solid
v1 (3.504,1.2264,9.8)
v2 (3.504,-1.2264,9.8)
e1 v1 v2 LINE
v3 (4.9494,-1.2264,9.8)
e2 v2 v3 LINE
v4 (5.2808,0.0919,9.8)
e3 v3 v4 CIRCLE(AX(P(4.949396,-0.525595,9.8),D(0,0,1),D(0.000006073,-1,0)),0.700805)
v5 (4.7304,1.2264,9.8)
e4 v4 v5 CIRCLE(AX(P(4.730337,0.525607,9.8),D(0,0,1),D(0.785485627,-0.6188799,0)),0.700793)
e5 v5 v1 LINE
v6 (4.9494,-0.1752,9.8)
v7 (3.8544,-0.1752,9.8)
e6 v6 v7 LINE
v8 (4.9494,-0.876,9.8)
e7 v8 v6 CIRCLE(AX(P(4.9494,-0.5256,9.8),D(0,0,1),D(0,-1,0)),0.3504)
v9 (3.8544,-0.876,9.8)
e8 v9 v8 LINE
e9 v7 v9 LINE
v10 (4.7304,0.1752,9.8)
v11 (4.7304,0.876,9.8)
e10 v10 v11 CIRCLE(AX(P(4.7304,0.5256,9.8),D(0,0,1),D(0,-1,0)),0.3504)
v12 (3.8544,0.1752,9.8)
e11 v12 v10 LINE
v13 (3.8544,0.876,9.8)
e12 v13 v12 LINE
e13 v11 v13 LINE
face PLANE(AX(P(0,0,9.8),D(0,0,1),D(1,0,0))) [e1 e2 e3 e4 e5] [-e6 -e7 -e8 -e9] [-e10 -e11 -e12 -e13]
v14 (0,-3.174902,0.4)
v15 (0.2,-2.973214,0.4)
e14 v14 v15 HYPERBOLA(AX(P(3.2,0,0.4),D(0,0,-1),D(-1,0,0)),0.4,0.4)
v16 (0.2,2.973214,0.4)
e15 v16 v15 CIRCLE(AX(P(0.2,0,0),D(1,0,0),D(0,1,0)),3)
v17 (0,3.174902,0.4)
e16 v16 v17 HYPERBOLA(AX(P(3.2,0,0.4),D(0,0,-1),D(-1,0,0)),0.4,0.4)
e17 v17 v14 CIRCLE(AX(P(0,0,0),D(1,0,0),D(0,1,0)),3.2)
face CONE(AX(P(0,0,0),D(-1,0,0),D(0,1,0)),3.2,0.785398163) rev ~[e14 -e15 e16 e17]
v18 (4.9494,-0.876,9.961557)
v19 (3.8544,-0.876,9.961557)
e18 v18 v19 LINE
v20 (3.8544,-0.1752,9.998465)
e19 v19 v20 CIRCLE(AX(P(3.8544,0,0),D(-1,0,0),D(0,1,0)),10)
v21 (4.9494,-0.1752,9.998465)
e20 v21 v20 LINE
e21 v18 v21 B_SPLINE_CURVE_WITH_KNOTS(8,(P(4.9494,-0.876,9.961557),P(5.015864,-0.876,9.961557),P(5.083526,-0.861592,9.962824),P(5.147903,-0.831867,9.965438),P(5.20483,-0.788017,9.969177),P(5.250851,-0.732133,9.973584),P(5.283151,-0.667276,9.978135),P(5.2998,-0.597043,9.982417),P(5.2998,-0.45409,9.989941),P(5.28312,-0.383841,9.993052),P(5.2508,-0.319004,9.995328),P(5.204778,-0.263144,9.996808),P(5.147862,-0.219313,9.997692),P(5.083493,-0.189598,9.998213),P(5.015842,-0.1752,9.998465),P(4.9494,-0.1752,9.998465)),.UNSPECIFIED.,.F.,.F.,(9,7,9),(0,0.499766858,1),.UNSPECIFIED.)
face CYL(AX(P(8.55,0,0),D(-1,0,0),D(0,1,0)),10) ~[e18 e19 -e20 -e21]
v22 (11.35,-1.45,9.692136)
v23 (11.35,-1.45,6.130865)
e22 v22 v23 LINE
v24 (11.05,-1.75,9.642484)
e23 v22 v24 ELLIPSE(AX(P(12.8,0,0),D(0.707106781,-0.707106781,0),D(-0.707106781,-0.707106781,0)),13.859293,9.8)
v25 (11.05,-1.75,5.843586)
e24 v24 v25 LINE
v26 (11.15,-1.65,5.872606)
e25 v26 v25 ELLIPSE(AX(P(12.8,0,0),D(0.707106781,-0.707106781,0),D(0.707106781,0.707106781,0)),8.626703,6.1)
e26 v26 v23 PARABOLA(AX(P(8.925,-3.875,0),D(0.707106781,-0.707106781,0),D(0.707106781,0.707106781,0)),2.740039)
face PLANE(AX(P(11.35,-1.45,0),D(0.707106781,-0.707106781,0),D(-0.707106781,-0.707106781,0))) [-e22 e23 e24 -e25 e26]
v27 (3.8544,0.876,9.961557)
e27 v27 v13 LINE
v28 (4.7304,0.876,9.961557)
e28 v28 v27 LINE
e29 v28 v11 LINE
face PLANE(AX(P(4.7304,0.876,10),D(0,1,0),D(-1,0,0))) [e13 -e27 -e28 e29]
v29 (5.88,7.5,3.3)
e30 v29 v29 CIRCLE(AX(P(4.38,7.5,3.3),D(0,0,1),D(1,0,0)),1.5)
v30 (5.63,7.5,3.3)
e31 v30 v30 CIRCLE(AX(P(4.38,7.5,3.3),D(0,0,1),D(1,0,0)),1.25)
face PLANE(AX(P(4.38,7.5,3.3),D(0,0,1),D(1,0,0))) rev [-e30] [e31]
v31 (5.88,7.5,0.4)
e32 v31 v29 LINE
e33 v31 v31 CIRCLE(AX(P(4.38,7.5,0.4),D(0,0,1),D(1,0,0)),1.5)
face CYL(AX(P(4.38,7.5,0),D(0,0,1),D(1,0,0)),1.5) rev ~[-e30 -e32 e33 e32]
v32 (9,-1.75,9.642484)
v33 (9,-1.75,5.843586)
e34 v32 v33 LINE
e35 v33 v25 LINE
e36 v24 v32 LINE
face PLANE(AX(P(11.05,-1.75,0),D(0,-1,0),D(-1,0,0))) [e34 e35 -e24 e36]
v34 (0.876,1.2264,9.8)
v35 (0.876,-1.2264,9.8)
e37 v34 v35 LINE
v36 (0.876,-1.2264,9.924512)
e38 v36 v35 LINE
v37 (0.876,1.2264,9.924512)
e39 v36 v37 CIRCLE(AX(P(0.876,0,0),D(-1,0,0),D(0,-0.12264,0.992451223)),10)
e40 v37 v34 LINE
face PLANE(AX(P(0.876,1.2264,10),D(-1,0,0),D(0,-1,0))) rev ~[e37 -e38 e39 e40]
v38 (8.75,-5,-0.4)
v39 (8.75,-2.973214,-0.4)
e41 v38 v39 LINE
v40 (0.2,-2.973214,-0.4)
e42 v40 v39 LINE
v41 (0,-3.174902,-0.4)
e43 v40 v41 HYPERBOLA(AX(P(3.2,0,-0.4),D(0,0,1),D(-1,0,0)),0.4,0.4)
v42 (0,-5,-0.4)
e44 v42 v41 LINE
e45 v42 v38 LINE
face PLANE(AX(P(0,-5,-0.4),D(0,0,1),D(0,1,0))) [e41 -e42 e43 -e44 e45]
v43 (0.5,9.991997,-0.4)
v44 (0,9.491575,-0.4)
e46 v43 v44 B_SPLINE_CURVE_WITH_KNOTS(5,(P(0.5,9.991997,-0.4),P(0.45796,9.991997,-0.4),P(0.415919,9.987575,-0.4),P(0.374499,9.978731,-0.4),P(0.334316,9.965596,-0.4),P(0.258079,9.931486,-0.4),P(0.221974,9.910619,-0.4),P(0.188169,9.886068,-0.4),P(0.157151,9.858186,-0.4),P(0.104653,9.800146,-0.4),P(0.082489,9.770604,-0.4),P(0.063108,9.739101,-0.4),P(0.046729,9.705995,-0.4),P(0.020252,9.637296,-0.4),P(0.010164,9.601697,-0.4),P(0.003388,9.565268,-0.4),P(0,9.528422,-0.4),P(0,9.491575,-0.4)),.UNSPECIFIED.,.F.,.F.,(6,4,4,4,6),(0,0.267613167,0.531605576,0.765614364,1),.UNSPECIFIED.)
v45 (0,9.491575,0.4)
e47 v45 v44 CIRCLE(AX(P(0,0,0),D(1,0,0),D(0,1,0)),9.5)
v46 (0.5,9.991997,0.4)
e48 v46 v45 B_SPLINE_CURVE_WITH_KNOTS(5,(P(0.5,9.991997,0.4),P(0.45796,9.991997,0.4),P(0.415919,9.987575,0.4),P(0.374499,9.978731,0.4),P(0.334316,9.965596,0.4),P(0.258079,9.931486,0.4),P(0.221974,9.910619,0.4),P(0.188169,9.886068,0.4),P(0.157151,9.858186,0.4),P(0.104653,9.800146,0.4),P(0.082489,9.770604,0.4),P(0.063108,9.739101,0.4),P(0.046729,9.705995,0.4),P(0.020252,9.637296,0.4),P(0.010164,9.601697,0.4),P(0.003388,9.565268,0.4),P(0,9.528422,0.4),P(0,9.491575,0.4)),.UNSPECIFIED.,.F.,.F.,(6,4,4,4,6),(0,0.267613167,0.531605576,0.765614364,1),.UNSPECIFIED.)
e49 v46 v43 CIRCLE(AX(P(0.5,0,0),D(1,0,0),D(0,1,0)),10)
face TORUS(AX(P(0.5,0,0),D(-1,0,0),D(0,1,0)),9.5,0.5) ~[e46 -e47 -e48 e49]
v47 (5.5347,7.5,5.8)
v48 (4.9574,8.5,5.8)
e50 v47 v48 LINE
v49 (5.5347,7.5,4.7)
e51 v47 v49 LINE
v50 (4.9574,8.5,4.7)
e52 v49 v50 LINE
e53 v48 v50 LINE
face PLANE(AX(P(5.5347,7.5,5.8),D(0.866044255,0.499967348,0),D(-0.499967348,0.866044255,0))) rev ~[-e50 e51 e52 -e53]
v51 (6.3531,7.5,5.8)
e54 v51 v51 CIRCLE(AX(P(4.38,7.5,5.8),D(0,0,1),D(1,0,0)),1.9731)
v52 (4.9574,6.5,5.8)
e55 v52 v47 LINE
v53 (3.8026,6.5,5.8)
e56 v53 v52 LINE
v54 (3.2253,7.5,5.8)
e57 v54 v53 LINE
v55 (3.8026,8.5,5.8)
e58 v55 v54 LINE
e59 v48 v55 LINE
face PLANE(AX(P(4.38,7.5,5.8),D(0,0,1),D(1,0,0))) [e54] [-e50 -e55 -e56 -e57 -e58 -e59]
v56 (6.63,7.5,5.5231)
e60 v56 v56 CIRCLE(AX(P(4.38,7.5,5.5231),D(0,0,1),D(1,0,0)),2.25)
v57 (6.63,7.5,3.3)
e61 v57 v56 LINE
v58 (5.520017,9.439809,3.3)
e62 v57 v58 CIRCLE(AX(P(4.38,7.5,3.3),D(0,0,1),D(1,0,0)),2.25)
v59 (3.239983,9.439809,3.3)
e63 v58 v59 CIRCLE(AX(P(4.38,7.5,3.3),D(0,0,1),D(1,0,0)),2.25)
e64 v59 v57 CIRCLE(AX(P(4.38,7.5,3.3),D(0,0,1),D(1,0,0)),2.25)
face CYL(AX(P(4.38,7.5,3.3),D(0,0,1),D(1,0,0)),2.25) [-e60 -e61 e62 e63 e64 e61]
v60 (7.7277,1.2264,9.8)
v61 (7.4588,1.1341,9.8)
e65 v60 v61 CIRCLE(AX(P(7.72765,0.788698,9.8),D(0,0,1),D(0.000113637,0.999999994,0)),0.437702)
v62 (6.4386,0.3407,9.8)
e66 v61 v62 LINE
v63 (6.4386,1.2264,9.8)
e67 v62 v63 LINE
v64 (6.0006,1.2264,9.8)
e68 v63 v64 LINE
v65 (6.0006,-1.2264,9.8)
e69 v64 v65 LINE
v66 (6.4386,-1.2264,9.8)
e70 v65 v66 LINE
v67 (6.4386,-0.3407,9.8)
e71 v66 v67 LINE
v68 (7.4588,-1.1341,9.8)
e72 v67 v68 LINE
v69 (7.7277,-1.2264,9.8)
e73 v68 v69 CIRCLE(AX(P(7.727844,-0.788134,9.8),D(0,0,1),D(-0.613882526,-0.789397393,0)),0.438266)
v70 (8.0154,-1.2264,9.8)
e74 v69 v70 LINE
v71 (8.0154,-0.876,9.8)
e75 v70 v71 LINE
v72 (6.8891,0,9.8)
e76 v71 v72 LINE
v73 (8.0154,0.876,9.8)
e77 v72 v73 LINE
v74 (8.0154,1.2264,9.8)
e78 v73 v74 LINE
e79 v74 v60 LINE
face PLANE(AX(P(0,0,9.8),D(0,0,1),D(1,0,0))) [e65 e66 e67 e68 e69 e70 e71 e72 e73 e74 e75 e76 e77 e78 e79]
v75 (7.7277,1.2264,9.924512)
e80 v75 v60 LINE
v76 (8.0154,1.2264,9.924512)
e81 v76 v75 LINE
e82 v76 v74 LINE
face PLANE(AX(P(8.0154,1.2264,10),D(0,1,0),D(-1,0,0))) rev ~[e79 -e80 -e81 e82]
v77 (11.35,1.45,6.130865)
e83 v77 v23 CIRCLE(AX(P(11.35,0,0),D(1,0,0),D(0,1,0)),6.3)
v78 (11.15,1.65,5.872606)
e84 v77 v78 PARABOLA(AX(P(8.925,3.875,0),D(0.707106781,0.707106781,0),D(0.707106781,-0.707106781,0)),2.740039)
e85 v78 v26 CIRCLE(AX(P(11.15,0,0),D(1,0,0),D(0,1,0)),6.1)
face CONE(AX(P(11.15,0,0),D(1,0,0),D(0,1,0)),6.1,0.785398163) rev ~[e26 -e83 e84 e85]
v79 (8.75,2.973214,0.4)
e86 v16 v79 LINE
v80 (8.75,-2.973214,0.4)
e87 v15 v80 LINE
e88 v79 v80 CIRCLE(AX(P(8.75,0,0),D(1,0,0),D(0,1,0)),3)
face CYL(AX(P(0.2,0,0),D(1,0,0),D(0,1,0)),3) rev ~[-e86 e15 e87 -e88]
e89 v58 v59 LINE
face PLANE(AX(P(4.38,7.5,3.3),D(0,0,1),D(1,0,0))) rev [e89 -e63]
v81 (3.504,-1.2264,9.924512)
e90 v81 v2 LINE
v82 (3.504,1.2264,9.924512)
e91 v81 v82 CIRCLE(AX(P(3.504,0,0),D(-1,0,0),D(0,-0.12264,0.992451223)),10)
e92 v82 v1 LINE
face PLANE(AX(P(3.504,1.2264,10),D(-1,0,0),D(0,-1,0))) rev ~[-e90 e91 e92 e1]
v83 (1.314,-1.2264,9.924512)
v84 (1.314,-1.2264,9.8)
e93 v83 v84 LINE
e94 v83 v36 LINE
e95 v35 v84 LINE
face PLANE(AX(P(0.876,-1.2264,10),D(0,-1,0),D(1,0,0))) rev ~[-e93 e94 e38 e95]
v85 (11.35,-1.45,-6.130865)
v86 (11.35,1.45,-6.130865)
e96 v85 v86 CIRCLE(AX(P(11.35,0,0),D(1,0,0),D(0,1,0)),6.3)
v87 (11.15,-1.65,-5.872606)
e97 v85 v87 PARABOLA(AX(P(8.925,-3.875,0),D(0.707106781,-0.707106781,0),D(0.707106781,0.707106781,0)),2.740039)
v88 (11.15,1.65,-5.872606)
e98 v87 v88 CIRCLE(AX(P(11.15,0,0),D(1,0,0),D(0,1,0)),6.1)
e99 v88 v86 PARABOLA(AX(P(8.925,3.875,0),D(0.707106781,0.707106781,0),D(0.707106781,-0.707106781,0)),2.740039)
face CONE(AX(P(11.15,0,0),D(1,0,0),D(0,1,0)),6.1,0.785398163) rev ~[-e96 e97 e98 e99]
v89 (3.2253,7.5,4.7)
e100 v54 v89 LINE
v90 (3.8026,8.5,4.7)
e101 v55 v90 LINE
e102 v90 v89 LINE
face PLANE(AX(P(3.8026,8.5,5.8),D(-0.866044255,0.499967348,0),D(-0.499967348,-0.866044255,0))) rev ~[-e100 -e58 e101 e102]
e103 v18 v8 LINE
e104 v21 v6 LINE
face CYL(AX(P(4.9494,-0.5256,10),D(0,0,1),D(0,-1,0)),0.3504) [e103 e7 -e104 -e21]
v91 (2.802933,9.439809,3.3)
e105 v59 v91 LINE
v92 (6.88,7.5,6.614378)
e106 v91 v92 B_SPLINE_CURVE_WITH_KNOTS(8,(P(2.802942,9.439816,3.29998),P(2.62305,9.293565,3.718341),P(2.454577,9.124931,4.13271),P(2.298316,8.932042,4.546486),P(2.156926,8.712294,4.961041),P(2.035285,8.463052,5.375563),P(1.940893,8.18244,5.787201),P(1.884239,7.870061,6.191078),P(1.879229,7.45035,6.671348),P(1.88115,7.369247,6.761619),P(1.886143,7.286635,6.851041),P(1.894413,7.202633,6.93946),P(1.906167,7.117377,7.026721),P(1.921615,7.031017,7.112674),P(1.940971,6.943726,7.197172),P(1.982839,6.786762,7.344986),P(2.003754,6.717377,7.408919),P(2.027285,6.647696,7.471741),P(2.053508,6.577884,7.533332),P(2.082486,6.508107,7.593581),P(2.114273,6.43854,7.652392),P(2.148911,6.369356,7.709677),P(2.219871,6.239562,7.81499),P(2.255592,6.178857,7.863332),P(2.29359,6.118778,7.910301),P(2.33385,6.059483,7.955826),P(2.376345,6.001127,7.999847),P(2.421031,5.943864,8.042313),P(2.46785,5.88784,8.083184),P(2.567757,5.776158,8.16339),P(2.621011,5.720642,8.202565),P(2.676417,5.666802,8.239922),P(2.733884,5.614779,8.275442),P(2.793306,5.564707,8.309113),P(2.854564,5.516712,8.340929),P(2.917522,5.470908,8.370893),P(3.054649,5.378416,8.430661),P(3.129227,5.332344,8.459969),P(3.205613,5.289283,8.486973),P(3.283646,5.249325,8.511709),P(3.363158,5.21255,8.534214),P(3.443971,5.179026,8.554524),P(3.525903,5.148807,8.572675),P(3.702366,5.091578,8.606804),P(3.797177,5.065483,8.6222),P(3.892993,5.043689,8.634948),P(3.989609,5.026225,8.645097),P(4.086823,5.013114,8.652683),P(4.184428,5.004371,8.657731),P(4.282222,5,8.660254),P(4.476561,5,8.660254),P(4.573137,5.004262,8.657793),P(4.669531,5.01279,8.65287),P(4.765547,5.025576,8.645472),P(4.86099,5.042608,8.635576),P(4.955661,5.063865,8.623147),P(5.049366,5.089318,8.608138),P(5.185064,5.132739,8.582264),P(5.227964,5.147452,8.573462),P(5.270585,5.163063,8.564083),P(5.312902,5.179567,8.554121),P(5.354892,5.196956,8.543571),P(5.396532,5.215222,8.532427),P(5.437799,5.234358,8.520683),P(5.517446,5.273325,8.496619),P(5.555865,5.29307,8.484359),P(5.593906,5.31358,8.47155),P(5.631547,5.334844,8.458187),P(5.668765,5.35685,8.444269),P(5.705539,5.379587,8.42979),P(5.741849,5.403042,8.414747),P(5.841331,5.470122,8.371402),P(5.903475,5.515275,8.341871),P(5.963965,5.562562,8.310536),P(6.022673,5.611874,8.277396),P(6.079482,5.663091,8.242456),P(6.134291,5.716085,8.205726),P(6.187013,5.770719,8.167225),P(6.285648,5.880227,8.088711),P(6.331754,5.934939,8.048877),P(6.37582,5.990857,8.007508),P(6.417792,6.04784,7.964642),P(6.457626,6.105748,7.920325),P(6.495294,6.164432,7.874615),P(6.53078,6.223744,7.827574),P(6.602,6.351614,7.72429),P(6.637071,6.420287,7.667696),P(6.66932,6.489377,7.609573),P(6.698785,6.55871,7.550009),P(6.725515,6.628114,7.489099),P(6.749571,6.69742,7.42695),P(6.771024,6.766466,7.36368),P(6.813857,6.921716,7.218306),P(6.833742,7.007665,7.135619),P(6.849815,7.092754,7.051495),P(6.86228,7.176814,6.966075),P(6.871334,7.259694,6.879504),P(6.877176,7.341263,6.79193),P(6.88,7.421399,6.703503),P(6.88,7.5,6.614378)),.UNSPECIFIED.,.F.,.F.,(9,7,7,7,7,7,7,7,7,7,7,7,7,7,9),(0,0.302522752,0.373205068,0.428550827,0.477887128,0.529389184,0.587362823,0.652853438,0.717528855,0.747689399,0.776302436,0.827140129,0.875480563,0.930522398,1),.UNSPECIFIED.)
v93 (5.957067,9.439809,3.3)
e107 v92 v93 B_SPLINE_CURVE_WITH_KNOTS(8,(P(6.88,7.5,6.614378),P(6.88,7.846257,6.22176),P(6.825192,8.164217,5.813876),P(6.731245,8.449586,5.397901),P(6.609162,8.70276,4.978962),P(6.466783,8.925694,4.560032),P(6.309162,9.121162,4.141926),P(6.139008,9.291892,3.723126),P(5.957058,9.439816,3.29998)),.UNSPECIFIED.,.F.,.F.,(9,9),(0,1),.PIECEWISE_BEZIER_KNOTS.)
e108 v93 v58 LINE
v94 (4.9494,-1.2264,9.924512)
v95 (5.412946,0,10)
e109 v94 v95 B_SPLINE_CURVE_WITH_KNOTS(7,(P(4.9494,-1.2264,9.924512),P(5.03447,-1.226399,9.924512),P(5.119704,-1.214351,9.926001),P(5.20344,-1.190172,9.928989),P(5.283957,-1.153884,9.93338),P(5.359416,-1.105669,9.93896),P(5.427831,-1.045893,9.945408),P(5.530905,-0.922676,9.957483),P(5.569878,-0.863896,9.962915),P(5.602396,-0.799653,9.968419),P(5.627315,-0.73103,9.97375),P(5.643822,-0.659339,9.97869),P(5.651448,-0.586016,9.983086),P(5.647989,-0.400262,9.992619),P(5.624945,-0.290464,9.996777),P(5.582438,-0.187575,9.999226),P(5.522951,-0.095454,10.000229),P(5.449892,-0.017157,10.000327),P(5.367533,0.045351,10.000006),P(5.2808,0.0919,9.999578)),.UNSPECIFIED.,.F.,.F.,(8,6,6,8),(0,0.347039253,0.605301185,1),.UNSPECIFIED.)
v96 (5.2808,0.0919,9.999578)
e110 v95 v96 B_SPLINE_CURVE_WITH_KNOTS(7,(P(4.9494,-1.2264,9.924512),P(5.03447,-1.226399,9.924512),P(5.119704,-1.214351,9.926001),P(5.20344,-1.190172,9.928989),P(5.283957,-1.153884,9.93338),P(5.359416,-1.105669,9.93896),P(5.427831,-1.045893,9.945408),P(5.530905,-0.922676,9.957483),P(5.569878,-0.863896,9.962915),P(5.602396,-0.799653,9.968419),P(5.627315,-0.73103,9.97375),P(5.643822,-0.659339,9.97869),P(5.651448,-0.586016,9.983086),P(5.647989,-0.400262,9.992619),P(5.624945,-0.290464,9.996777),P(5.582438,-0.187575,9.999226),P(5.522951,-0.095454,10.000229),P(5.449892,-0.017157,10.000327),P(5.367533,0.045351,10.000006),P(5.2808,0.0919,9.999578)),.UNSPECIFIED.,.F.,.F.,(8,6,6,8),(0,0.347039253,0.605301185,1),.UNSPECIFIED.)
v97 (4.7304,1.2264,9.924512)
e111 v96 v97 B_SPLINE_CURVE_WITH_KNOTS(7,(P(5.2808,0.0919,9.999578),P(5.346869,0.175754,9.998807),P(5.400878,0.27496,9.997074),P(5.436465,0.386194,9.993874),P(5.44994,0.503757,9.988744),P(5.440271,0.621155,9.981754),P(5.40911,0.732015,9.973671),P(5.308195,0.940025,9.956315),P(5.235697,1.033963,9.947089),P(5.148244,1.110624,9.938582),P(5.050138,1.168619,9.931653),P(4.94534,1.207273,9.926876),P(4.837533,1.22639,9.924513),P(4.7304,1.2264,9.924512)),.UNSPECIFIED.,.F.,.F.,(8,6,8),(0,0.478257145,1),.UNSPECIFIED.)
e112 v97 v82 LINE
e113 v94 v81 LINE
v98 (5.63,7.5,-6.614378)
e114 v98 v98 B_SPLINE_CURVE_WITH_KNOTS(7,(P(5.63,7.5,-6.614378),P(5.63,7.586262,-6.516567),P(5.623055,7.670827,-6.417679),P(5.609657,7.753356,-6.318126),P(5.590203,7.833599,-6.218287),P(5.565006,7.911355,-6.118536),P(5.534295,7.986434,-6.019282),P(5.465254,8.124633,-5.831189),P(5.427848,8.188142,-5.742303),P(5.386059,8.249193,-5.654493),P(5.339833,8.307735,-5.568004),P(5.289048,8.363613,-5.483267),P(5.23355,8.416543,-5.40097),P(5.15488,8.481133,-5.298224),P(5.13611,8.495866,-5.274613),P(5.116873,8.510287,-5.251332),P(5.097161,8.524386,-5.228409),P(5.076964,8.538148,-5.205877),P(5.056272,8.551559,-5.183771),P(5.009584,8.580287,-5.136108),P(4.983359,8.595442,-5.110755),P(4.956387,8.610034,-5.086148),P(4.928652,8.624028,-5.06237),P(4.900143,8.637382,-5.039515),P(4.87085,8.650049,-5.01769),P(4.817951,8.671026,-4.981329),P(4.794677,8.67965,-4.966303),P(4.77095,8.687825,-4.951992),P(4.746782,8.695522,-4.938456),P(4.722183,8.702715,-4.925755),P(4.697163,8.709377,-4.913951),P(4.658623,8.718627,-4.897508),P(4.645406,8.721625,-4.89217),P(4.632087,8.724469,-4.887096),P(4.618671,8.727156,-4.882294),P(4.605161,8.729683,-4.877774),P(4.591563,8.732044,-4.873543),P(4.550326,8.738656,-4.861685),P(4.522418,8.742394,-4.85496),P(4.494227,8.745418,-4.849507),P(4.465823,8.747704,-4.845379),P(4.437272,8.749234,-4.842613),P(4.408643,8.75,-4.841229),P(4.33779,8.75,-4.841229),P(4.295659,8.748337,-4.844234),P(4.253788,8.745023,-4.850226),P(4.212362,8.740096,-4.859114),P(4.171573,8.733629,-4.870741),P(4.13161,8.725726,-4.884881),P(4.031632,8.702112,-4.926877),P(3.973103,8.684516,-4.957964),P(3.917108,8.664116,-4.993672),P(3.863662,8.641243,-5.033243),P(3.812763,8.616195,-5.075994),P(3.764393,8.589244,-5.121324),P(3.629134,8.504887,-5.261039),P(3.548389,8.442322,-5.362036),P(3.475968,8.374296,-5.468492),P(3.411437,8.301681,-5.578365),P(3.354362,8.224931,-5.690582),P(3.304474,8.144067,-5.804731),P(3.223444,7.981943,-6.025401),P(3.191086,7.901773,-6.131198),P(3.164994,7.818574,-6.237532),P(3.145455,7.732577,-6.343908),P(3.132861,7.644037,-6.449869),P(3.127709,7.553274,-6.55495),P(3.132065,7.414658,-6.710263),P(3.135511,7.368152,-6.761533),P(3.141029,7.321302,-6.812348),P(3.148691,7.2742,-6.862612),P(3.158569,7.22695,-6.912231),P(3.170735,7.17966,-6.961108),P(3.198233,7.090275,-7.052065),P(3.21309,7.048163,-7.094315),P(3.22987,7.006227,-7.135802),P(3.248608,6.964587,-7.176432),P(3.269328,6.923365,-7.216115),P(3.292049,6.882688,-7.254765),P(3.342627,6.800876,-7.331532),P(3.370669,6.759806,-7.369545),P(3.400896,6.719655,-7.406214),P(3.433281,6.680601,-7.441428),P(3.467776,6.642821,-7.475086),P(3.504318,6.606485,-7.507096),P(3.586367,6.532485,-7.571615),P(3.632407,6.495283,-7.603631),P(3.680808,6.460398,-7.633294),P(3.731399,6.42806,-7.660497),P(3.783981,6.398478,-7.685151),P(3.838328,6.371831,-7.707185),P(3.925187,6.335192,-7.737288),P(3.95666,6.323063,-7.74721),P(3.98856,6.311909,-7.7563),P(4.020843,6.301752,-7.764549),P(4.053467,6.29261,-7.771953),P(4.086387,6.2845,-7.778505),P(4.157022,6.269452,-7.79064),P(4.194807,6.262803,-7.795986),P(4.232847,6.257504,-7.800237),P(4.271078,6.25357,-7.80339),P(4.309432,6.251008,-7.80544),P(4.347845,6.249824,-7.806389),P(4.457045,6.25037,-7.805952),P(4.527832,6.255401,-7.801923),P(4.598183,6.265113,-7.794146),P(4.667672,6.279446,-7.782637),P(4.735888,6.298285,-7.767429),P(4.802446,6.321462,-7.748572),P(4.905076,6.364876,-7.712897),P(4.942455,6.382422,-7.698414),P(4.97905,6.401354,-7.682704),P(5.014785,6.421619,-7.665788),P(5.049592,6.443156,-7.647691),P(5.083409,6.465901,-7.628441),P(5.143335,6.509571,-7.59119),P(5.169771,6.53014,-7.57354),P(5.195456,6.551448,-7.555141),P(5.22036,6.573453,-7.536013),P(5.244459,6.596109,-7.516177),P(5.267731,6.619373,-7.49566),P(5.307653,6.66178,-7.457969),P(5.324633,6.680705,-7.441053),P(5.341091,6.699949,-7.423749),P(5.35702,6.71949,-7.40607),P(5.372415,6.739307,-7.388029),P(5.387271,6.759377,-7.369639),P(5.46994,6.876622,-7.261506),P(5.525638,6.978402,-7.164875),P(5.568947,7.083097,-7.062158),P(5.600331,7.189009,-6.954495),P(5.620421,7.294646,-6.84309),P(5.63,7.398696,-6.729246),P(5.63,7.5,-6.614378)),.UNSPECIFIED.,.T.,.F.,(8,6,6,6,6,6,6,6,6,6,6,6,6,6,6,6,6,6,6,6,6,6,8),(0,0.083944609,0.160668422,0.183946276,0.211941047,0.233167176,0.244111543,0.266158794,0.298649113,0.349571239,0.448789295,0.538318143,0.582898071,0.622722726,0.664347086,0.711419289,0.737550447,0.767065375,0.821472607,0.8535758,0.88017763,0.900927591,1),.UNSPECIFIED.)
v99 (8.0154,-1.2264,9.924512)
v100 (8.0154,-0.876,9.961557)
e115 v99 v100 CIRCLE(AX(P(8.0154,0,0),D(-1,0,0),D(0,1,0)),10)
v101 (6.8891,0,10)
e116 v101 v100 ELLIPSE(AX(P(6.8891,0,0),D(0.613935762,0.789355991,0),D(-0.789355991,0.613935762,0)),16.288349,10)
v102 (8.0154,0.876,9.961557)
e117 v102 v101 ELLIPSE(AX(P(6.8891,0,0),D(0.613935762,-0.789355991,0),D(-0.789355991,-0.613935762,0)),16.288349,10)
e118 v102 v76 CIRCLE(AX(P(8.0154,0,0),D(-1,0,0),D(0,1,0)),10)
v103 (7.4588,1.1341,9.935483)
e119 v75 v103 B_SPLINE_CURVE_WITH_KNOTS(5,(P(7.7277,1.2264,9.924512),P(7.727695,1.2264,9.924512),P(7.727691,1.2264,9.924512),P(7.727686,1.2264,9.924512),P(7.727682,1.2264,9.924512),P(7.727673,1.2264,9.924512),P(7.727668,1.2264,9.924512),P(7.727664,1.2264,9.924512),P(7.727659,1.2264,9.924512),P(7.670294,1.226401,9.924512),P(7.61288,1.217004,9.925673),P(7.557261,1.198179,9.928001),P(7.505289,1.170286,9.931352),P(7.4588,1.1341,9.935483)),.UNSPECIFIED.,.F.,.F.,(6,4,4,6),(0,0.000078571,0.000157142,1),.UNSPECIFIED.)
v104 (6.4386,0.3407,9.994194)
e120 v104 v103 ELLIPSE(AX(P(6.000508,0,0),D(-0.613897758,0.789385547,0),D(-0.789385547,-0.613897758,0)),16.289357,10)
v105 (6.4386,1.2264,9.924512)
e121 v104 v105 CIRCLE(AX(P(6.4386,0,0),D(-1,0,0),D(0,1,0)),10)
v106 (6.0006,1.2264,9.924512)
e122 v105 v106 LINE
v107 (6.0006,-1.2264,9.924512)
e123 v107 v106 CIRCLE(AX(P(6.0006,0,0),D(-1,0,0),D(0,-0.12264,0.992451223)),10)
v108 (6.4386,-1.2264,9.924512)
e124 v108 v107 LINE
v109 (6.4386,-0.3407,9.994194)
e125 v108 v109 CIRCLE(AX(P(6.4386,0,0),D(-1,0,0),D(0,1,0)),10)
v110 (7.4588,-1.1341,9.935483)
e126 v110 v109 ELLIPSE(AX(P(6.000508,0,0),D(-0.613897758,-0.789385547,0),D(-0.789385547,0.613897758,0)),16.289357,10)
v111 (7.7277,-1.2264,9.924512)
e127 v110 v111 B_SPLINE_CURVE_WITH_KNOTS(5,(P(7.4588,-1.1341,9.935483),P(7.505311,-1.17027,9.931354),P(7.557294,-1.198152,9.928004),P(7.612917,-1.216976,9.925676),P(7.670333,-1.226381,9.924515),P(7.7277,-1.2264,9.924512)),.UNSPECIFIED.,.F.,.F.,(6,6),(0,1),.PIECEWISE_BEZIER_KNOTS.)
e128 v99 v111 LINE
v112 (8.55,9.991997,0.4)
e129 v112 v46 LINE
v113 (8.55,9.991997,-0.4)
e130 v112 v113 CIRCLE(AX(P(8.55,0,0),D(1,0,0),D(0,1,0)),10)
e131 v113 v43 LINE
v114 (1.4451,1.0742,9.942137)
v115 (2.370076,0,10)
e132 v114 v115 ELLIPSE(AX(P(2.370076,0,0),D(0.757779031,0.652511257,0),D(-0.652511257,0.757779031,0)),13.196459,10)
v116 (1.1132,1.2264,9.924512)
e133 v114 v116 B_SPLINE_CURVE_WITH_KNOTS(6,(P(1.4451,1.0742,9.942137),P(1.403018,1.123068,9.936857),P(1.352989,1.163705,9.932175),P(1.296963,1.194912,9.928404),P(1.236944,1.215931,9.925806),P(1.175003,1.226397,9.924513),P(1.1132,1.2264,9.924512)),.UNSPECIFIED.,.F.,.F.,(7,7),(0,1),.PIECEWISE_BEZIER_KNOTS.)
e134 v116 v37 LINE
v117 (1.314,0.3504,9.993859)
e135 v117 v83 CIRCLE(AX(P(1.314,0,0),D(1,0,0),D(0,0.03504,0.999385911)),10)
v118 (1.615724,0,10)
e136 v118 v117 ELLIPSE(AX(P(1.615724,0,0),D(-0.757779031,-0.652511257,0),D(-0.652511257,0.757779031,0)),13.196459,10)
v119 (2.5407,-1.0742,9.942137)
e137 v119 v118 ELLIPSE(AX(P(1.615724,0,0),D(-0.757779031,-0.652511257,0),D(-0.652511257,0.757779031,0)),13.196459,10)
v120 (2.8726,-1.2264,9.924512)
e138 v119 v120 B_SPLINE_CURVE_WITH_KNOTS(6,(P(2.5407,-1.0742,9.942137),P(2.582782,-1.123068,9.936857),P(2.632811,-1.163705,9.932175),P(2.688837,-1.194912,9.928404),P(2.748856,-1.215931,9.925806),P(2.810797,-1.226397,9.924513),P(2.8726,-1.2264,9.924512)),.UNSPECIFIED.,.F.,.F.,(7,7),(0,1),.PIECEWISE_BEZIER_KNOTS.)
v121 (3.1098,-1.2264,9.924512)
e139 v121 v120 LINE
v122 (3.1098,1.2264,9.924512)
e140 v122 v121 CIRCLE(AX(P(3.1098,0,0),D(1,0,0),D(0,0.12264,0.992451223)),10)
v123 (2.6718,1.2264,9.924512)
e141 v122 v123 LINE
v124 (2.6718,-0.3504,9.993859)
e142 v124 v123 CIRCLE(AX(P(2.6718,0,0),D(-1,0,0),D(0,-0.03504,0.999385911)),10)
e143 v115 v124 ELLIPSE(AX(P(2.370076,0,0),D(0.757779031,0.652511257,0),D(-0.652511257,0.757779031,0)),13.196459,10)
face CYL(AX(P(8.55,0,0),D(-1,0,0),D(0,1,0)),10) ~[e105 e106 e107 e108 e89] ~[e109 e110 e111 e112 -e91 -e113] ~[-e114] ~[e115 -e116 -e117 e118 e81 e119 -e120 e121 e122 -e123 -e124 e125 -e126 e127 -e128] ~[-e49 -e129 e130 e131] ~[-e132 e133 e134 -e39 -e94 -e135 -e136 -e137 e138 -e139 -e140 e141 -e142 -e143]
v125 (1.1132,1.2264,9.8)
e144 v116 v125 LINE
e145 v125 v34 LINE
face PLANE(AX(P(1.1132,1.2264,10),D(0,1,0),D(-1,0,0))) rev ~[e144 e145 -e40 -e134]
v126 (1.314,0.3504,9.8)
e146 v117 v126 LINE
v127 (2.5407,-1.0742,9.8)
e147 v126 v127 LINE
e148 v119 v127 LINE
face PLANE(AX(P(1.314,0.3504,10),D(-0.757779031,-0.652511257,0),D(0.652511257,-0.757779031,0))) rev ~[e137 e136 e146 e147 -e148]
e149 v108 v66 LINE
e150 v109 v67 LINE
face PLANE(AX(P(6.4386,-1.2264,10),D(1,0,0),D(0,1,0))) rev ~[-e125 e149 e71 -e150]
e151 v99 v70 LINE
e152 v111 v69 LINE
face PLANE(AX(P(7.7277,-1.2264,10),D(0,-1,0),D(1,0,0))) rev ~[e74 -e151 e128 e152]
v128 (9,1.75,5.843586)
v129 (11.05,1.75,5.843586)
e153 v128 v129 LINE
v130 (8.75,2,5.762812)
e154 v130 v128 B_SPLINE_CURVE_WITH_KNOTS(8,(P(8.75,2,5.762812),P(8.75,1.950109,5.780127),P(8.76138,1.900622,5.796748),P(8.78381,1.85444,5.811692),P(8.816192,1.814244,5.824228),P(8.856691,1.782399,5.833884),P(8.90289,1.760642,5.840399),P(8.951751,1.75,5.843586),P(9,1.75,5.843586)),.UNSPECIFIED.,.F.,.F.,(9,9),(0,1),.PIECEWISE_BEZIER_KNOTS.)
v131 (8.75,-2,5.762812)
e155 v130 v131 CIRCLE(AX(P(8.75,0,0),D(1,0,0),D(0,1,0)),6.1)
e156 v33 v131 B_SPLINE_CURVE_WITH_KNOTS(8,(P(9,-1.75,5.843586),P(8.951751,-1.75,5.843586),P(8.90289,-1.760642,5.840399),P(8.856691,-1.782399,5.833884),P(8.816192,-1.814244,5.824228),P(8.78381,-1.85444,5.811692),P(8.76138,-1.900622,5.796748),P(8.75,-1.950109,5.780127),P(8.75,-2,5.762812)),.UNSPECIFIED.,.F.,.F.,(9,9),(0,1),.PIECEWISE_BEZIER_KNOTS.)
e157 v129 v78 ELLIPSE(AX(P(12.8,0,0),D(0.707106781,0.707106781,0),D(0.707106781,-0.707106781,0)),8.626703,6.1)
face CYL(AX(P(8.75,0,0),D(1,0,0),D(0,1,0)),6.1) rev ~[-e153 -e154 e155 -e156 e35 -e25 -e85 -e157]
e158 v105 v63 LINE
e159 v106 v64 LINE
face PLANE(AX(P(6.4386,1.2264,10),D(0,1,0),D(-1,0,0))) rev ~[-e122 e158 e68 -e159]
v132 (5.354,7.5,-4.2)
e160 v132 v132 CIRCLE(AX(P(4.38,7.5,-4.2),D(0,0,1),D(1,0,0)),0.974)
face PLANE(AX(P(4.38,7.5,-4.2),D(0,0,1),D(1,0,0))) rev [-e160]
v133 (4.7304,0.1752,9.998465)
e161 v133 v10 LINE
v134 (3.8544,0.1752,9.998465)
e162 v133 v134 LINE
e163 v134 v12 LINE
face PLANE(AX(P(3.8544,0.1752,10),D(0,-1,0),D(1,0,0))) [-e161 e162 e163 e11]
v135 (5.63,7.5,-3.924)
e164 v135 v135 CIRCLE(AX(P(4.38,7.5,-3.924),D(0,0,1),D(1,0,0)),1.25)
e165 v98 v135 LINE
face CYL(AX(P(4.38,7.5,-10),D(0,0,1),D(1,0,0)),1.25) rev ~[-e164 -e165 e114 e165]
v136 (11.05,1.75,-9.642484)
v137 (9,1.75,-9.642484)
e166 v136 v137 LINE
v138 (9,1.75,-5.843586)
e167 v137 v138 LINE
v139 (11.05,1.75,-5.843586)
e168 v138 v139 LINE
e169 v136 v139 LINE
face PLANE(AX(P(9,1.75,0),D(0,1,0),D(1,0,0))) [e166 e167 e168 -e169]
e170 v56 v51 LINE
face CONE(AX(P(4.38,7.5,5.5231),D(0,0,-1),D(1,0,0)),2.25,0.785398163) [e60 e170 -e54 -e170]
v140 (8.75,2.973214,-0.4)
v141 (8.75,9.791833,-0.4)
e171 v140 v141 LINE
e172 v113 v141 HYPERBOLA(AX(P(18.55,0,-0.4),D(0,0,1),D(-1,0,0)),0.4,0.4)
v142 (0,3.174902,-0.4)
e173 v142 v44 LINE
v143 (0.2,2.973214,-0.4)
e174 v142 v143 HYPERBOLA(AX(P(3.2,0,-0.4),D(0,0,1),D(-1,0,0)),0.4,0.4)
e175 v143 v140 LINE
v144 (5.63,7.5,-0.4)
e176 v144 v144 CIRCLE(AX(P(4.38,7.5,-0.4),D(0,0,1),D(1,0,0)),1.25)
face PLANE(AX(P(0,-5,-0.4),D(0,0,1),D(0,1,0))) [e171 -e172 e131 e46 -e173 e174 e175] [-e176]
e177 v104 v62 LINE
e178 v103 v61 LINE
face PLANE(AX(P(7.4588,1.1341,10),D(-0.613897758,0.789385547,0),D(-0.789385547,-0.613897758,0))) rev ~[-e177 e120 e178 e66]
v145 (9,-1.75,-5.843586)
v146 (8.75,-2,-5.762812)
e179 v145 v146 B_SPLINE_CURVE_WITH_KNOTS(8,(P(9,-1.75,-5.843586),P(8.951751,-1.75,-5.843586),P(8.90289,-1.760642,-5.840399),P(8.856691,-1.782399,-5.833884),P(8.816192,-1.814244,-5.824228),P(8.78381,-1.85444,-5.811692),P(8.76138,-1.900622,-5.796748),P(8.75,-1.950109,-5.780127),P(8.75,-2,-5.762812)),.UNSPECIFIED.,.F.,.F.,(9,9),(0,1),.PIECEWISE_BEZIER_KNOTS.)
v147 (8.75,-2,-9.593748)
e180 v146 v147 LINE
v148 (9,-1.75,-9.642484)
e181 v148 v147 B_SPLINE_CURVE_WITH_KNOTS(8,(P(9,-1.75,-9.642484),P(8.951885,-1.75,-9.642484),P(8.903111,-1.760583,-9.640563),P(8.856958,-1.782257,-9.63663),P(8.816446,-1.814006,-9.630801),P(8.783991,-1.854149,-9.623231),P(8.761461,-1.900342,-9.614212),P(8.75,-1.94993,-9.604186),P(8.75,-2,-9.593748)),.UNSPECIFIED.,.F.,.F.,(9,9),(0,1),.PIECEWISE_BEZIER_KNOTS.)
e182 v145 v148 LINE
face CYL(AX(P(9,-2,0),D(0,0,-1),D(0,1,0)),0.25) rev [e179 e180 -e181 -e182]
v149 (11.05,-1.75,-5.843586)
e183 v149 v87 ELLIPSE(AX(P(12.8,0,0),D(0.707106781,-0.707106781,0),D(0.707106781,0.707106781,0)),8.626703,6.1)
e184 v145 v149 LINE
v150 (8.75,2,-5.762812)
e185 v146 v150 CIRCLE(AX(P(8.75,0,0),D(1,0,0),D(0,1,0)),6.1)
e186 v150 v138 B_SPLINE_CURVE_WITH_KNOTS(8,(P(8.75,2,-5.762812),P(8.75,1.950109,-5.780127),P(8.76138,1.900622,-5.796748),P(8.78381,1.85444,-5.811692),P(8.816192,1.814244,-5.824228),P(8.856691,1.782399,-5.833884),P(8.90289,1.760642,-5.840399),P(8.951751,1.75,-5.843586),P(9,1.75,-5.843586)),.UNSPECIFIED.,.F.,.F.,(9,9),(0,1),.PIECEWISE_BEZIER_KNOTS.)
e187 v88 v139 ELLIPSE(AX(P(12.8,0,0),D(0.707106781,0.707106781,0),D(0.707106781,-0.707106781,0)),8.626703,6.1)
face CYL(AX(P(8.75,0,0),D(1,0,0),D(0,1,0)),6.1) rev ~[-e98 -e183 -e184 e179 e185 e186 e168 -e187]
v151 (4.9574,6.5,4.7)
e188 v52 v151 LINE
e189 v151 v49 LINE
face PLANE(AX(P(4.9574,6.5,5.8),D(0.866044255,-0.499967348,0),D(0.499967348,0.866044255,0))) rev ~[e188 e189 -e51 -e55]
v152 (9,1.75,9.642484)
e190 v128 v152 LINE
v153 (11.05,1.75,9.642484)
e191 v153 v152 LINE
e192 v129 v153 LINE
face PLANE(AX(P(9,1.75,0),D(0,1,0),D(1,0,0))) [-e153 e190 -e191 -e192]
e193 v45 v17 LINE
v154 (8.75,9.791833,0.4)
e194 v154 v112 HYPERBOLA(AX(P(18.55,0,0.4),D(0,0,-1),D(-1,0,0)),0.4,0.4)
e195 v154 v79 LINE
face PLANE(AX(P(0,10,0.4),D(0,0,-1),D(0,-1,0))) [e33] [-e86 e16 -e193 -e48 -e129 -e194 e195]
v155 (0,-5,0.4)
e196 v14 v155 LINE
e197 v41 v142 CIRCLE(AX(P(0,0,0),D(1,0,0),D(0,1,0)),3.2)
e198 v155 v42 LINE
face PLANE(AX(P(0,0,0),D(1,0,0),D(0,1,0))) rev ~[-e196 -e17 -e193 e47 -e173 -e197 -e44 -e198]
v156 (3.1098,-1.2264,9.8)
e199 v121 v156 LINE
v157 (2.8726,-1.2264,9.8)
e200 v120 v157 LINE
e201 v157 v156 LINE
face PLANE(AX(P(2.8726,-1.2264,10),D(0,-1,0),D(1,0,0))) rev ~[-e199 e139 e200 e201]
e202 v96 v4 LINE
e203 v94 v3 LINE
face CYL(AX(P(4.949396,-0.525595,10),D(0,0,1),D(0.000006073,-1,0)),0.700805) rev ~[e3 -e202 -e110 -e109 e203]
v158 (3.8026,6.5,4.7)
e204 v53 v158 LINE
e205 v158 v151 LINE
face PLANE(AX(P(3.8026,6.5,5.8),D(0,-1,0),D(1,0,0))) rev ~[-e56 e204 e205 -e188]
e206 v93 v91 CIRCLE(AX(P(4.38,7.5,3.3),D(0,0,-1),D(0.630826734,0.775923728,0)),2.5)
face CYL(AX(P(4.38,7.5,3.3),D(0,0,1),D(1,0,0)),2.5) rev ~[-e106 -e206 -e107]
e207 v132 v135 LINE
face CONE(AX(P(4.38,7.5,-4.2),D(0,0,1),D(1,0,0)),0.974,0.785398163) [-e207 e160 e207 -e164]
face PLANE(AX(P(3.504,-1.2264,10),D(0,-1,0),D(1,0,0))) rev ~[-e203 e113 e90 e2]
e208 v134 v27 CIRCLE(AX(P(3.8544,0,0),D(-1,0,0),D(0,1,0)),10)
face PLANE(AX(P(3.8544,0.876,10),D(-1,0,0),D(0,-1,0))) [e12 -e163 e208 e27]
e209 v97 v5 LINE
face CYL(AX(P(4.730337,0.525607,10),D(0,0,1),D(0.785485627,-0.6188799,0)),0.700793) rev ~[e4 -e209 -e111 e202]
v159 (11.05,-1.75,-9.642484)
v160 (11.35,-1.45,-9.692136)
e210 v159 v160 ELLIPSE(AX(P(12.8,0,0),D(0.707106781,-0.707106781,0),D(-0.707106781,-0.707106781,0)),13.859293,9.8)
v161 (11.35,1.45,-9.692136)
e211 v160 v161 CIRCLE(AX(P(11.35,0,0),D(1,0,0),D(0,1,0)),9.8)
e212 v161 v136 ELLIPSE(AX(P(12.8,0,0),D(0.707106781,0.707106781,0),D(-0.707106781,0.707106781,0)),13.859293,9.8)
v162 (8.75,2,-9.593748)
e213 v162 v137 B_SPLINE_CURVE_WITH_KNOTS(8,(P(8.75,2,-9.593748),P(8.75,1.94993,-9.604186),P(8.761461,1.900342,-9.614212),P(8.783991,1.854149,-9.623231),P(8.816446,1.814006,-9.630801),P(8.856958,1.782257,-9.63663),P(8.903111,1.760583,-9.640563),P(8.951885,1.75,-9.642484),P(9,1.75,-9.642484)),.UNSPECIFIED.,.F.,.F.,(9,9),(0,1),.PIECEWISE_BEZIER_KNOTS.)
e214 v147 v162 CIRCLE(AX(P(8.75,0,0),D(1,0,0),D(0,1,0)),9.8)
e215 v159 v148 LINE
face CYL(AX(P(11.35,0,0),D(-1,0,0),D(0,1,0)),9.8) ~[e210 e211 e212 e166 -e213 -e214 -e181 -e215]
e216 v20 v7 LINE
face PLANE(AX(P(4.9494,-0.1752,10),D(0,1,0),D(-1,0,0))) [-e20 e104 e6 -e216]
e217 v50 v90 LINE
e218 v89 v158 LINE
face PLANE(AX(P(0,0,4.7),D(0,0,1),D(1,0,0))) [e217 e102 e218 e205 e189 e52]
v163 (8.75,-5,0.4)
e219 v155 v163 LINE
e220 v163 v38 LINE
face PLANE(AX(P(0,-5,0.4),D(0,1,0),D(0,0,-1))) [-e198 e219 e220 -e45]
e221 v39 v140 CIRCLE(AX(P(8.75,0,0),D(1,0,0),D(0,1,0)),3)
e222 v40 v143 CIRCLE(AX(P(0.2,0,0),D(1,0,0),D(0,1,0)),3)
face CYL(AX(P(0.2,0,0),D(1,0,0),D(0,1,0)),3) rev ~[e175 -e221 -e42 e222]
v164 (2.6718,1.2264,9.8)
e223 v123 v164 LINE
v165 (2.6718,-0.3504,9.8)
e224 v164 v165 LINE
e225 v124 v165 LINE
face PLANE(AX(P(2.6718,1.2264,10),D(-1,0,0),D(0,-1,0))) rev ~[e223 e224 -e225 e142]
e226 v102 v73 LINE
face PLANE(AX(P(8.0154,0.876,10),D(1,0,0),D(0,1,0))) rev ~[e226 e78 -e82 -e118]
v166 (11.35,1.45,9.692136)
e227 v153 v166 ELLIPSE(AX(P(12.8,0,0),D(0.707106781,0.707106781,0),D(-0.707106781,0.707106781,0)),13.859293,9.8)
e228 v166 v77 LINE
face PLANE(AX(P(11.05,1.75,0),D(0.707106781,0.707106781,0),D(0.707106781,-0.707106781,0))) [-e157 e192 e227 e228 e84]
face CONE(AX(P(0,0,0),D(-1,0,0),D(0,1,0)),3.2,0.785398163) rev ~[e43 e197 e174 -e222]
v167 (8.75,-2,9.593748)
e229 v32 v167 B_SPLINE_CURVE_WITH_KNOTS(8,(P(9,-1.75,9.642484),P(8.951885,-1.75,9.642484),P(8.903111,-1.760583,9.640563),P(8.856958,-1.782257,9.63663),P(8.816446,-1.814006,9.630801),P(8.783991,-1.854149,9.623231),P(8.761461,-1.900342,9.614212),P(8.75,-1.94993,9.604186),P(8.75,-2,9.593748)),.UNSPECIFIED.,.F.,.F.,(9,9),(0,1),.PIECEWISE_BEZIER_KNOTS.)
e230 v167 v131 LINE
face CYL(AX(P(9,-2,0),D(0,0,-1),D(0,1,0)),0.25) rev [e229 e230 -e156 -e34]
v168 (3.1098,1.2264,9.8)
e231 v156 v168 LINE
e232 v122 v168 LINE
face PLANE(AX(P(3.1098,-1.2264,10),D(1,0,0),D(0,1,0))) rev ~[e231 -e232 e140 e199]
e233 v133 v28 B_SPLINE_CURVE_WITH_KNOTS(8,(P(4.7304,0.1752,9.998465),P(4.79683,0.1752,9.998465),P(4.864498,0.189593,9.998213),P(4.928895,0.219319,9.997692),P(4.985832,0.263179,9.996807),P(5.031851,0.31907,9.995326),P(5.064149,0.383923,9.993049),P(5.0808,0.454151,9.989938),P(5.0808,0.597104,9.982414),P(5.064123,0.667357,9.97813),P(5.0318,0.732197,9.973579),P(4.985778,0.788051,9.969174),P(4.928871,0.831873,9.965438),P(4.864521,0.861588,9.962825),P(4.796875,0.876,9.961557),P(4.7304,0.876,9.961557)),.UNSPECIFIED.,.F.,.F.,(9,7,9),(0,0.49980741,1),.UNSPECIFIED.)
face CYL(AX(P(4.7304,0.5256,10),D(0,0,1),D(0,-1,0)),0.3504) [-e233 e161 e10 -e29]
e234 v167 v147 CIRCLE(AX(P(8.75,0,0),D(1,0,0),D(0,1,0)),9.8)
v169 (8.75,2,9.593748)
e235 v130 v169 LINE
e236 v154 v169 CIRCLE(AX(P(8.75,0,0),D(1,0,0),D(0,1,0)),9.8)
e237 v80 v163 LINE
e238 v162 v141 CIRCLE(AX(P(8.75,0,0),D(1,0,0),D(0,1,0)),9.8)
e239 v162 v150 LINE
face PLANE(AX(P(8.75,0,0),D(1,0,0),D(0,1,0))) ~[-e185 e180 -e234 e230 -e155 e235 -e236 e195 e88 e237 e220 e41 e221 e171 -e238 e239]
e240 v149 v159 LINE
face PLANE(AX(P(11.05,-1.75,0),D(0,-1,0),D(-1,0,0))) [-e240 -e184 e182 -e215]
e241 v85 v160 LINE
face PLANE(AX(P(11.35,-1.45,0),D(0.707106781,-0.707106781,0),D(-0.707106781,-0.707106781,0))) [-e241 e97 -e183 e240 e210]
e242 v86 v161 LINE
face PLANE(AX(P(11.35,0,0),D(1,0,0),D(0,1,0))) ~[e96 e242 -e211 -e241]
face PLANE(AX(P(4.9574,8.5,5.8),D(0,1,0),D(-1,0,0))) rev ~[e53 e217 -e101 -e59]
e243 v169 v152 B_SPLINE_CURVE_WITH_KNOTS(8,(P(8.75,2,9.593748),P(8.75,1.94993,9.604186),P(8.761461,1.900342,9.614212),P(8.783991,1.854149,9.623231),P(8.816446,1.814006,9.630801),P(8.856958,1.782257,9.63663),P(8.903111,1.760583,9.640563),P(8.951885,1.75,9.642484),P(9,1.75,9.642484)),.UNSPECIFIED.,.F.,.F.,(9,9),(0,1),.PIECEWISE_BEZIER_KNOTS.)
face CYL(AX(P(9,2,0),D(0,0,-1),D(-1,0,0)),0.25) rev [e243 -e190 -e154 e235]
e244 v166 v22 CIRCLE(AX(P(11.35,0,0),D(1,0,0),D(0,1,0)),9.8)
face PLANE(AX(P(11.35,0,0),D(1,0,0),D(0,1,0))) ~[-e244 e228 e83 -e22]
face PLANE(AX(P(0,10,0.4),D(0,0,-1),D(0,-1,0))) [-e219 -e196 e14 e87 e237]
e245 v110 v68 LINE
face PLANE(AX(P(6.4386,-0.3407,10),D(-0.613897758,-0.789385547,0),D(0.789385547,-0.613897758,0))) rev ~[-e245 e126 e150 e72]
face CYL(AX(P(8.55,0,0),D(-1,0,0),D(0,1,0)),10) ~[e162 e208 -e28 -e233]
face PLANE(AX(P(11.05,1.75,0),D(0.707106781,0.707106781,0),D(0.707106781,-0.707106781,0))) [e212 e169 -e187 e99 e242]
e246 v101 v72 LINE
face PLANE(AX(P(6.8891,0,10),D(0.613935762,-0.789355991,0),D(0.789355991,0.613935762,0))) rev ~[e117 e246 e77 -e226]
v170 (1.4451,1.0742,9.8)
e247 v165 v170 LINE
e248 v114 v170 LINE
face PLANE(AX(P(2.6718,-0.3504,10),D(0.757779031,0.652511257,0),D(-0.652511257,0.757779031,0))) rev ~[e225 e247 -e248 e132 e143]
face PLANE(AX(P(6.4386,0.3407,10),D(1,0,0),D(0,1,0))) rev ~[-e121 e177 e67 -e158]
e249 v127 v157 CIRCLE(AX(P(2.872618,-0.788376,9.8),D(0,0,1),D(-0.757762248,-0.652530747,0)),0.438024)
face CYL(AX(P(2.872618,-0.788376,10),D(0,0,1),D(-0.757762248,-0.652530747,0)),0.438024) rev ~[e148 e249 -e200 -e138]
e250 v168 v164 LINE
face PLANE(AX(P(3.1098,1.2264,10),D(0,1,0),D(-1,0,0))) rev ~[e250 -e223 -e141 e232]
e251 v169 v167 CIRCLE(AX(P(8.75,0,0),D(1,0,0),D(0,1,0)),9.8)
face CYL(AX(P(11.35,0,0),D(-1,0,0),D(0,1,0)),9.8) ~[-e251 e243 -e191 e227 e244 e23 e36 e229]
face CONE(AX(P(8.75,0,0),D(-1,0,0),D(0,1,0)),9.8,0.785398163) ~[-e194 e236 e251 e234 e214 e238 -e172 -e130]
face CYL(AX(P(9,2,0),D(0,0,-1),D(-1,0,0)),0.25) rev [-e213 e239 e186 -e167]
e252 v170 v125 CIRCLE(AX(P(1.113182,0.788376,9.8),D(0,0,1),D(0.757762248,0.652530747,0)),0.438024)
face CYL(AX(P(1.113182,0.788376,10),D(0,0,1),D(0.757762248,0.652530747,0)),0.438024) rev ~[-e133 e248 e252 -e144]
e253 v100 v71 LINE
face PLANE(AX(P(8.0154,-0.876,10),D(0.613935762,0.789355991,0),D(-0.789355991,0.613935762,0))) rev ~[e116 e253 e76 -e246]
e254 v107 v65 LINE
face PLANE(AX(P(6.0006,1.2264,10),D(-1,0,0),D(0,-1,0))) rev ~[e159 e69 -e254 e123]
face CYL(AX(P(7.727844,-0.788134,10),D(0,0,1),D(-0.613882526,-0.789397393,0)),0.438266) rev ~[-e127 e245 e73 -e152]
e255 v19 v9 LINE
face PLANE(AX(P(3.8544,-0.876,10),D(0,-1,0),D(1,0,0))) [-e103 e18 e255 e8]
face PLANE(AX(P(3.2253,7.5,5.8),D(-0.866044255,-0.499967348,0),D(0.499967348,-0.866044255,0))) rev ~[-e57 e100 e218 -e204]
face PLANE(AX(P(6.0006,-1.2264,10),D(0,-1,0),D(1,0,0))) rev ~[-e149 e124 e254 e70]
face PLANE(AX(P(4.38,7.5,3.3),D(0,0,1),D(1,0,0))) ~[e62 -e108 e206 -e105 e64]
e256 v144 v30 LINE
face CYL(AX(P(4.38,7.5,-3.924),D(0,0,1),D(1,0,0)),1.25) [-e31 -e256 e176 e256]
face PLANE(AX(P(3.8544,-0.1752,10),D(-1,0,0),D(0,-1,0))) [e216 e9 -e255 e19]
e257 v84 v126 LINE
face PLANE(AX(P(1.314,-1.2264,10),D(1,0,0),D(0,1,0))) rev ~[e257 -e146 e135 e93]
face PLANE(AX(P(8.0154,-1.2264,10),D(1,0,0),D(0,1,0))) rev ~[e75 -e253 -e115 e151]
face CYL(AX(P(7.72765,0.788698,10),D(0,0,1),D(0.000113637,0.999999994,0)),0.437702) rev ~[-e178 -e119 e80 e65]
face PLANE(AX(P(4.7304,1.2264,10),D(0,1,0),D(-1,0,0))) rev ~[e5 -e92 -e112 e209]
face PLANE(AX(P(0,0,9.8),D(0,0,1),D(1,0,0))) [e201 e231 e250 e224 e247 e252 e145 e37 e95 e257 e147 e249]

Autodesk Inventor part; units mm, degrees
sketch "Sketch_1" plane through (0, 0, 0) normal (0, 0, 1) x (1, 0, 0)
  line L0 (11.35, 0) -> (0, 0)
  line L1 (0, 3.2) -> (0.2, 3)
  line L2 (0.2, 3) -> (8.75, 3)
  line L3 (8.75, 3) -> (8.75, 6.1)
  line L4 (8.75, 6.1) -> (11.15, 6.1)
  line L5 (11.15, 6.1) -> (11.35, 6.3)
  line L6 (11.35, 6.3) -> (11.35, 9.8)
  line L7 (11.35, 9.8) -> (8.75, 9.8)
  line L8 (8.75, 9.8) -> (8.55, 10)
  line L9 (8.55, 10) -> (0.5, 10)
  arc A0 (0.5, 10) -> (0, 9.5) centre (0.5, 9.5) ccw
  line L10 (0, 9.5) -> (0, 3.2)
revolve "Revolution1" add sketch "Sketch_1" angle 360 about axis through (11.35, 0, 0) along (1, 0, 0)
sketch "Sketch_2" plane through (0, 0, 0) normal (0, 0, 1) x (1, 0, 0)
  arc A0 (8.75, 2) -> (9, 1.75) centre (9, 2) ccw
  line L0 (9, 1.75) -> (11.05, 1.75)
  line L1 (11.05, 1.75) -> (11.35, 1.45)
  line L2 (11.35, 1.45) -> (11.35, -1.45)
  line L3 (11.35, -1.45) -> (11.05, -1.75)
  line L4 (11.05, -1.75) -> (9, -1.75)
  arc A1 (9, -1.75) -> (8.75, -2) centre (9, -2) ccw
  line L5 (8.75, -2) -> (8.75, -10)
  line L6 (8.75, -10) -> (12.35, -10)
  line L7 (12.35, -10) -> (12.35, 10)
  line L8 (12.35, 10) -> (8.75, 10)
  line L9 (8.75, 10) -> (8.75, 2)
extrude "Extrusion1" cut sketch "Sketch_2" along normal mid plane 20
sketch "Sketch_3" plane through (0, 7.5, 0) normal (0, 1, 0) x (1, 0, 0)
  line L0 (4.38, -10) -> (4.38, 10)
  line L1 (4.38, 10) -> (5.63, 10)
  line L2 (5.63, 10) -> (5.63, 0)
  line L3 (5.63, 0) -> (5.88, 0)
  line L4 (5.88, 0) -> (5.88, -3.3)
  line L5 (5.88, -3.3) -> (6.88, -3.3)
  line L6 (6.88, -3.3) -> (6.88, -10)
  line L7 (6.88, -10) -> (4.38, -10)
  line L8 (4.38, -10) -> (4.38, 10)
revolve "Revolution2" cut sketch "Sketch_3" angle 360 about axis through (4.38, 7.5, 10) along (0, 0, 1)
sketch "Sketch_4" plane through (0, 0, 0) normal (1, 0, 0) x (0, 1, 0)
  line L0 (-5, 0.4) -> (-5, -0.4)
  line L1 (-5, -0.4) -> (10, -0.4)
  line L2 (10, -0.4) -> (10, 0.4)
  line L3 (10, 0.4) -> (-5, 0.4)
extrude "Extrusion2" cut sketch "Sketch_4" along normal blind 8.75
sketch "Sketch_5" plane through (0, 7.5, 0) normal (0, 1, 0) x (1, 0, 0)
  line L0 (4.38, -5.8) -> (4.38, 4.2)
  line L1 (4.38, 4.2) -> (5.354, 4.2)
  line L2 (5.354, 4.2) -> (5.63, 3.924)
  line L3 (5.63, 3.924) -> (5.63, -3.3)
  line L4 (5.63, -3.3) -> (6.63, -3.3)
  line L5 (6.63, -3.3) -> (6.63, -5.5231)
  line L6 (6.63, -5.5231) -> (6.3531, -5.8)
  line L7 (6.3531, -5.8) -> (4.38, -5.8)
  line L8 (4.38, -5.8) -> (4.38, 4.2)
revolve "Revolution3" add sketch "Sketch_5" angle 360 about axis through (4.38, 7.5, 5.8) along (0, 0, 1)
thread "Thread1" size "M2.5x0.45" class "6g" standard "ISO Metric profile" full length
sketch "Sketch_6" plane through (0, 0, 5.8) normal (0, 0, 1) x (1, 0, 0)
  line L0 (3.2253, 7.5) -> (3.8026, 6.5)
  line L1 (3.8026, 6.5) -> (4.9574, 6.5)
  line L2 (4.9574, 6.5) -> (5.5347, 7.5)
  line L3 (5.5347, 7.5) -> (4.9574, 8.5)
  line L4 (4.9574, 8.5) -> (3.8026, 8.5)
  line L5 (3.8026, 8.5) -> (3.2253, 7.5)
extrude "Extrusion3" cut sketch "Sketch_6" against normal blind 1.1
sketch "Sketch_11" plane through (0, 0, 10) normal (0, 0, 1) x (1, 0, 0)
  line L0 (0.876, -1.2264) -> (1.314, -1.2264)
  line L1 (1.314, -1.2264) -> (1.314, 0.3504)
  line L2 (1.314, 0.3504) -> (2.5407, -1.0742)
  arc A0 (2.5407, -1.0742) -> (2.8726, -1.2264) centre (2.8726, -0.7884) ccw
  line L3 (2.8726, -1.2264) -> (3.1098, -1.2264)
  line L4 (3.1098, -1.2264) -> (3.1098, 1.2264)
  line L5 (3.1098, 1.2264) -> (2.6718, 1.2264)
  line L6 (2.6718, 1.2264) -> (2.6718, -0.3504)
  line L7 (2.6718, -0.3504) -> (1.4451, 1.0742)
  arc A1 (1.4451, 1.0742) -> (1.1132, 1.2264) centre (1.1132, 0.7884) ccw
  line L8 (1.1132, 1.2264) -> (0.876, 1.2264)
  line L9 (0.876, 1.2264) -> (0.876, -1.2264)
extrude "Extrusion4" cut sketch "Sketch_11" against normal blind 0.2
sketch "Sketch_12" plane through (0, 0, 10) normal (0, 0, 1) x (1, 0, 0)
  line L0 (3.504, -1.2264) -> (4.9494, -1.2264)
  arc A0 (4.9494, -1.2264) -> (5.2808, 0.0919) centre (4.9494, -0.5256) ccw
  arc A1 (5.2808, 0.0919) -> (4.7304, 1.2264) centre (4.7304, 0.5256) ccw
  line L1 (4.7304, 1.2264) -> (3.504, 1.2264)
  line L2 (3.504, 1.2264) -> (3.504, -1.2264)
  line L3 (3.8544, 0.1752) -> (4.7304, 0.1752)
  arc A2 (4.7304, 0.1752) -> (4.7304, 0.876) centre (4.7304, 0.5256) ccw
  line L4 (4.7304, 0.876) -> (3.8544, 0.876)
  line L5 (3.8544, 0.876) -> (3.8544, 0.1752)
  line L6 (3.8544, -0.876) -> (4.9494, -0.876)
  arc A3 (4.9494, -0.876) -> (4.9494, -0.1752) centre (4.9494, -0.5256) ccw
  line L7 (4.9494, -0.1752) -> (3.8544, -0.1752)
  line L8 (3.8544, -0.1752) -> (3.8544, -0.876)
extrude "Extrusion5" cut sketch "Sketch_12" against normal blind 0.2
sketch "Sketch_13" plane through (0, 0, 10) normal (0, 0, 1) x (1, 0, 0)
  line L0 (6.0006, -1.2264) -> (6.4386, -1.2264)
  line L1 (6.4386, -1.2264) -> (6.4386, -0.3407)
  line L2 (6.4386, -0.3407) -> (7.4588, -1.1341)
  arc A0 (7.4588, -1.1341) -> (7.7277, -1.2264) centre (7.7277, -0.7884) ccw
  line L3 (7.7277, -1.2264) -> (8.0154, -1.2264)
  line L4 (8.0154, -1.2264) -> (8.0154, -0.876)
  line L5 (8.0154, -0.876) -> (6.8891, 0)
  line L6 (6.8891, 0) -> (8.0154, 0.876)
  line L7 (8.0154, 0.876) -> (8.0154, 1.2264)
  line L8 (8.0154, 1.2264) -> (7.7277, 1.2264)
  arc A1 (7.7277, 1.2264) -> (7.4588, 1.1341) centre (7.7277, 0.7884) ccw
  line L9 (7.4588, 1.1341) -> (6.4386, 0.3407)
  line L10 (6.4386, 0.3407) -> (6.4386, 1.2264)
  line L11 (6.4386, 1.2264) -> (6.0006, 1.2264)
  line L12 (6.0006, 1.2264) -> (6.0006, -1.2264)
extrude "Extrusion6" cut sketch "Sketch_13" against normal blind 0.2
ref_plane "p1_dummy_XY" through (0, 0, 0) normal (1, 0, 0) x (0, 0, -1)
ref_plane "p1_dummy_YZ" through (0, 0, 0) normal (0, 0, -1) x (0, 1, 0)
ref_plane "p1_dummy_ZX" through (0, 0, 0) normal (0, 1, 0) x (1, 0, 0)
ref_plane "p1_p2_XY" through (9, 0, 0) normal (-1, 0, 0) x (0, 0, -1)
ref_plane "p1_p2_YZ" through (9, 0, 0) normal (0, 0, -1) x (0, -1, 0)
ref_plane "p1_p2_ZX" through (9, 0, 0) normal (0, -1, 0) x (-1, 0, 0)
properties part number "MOR-20C - 6-10 Hub 1"
